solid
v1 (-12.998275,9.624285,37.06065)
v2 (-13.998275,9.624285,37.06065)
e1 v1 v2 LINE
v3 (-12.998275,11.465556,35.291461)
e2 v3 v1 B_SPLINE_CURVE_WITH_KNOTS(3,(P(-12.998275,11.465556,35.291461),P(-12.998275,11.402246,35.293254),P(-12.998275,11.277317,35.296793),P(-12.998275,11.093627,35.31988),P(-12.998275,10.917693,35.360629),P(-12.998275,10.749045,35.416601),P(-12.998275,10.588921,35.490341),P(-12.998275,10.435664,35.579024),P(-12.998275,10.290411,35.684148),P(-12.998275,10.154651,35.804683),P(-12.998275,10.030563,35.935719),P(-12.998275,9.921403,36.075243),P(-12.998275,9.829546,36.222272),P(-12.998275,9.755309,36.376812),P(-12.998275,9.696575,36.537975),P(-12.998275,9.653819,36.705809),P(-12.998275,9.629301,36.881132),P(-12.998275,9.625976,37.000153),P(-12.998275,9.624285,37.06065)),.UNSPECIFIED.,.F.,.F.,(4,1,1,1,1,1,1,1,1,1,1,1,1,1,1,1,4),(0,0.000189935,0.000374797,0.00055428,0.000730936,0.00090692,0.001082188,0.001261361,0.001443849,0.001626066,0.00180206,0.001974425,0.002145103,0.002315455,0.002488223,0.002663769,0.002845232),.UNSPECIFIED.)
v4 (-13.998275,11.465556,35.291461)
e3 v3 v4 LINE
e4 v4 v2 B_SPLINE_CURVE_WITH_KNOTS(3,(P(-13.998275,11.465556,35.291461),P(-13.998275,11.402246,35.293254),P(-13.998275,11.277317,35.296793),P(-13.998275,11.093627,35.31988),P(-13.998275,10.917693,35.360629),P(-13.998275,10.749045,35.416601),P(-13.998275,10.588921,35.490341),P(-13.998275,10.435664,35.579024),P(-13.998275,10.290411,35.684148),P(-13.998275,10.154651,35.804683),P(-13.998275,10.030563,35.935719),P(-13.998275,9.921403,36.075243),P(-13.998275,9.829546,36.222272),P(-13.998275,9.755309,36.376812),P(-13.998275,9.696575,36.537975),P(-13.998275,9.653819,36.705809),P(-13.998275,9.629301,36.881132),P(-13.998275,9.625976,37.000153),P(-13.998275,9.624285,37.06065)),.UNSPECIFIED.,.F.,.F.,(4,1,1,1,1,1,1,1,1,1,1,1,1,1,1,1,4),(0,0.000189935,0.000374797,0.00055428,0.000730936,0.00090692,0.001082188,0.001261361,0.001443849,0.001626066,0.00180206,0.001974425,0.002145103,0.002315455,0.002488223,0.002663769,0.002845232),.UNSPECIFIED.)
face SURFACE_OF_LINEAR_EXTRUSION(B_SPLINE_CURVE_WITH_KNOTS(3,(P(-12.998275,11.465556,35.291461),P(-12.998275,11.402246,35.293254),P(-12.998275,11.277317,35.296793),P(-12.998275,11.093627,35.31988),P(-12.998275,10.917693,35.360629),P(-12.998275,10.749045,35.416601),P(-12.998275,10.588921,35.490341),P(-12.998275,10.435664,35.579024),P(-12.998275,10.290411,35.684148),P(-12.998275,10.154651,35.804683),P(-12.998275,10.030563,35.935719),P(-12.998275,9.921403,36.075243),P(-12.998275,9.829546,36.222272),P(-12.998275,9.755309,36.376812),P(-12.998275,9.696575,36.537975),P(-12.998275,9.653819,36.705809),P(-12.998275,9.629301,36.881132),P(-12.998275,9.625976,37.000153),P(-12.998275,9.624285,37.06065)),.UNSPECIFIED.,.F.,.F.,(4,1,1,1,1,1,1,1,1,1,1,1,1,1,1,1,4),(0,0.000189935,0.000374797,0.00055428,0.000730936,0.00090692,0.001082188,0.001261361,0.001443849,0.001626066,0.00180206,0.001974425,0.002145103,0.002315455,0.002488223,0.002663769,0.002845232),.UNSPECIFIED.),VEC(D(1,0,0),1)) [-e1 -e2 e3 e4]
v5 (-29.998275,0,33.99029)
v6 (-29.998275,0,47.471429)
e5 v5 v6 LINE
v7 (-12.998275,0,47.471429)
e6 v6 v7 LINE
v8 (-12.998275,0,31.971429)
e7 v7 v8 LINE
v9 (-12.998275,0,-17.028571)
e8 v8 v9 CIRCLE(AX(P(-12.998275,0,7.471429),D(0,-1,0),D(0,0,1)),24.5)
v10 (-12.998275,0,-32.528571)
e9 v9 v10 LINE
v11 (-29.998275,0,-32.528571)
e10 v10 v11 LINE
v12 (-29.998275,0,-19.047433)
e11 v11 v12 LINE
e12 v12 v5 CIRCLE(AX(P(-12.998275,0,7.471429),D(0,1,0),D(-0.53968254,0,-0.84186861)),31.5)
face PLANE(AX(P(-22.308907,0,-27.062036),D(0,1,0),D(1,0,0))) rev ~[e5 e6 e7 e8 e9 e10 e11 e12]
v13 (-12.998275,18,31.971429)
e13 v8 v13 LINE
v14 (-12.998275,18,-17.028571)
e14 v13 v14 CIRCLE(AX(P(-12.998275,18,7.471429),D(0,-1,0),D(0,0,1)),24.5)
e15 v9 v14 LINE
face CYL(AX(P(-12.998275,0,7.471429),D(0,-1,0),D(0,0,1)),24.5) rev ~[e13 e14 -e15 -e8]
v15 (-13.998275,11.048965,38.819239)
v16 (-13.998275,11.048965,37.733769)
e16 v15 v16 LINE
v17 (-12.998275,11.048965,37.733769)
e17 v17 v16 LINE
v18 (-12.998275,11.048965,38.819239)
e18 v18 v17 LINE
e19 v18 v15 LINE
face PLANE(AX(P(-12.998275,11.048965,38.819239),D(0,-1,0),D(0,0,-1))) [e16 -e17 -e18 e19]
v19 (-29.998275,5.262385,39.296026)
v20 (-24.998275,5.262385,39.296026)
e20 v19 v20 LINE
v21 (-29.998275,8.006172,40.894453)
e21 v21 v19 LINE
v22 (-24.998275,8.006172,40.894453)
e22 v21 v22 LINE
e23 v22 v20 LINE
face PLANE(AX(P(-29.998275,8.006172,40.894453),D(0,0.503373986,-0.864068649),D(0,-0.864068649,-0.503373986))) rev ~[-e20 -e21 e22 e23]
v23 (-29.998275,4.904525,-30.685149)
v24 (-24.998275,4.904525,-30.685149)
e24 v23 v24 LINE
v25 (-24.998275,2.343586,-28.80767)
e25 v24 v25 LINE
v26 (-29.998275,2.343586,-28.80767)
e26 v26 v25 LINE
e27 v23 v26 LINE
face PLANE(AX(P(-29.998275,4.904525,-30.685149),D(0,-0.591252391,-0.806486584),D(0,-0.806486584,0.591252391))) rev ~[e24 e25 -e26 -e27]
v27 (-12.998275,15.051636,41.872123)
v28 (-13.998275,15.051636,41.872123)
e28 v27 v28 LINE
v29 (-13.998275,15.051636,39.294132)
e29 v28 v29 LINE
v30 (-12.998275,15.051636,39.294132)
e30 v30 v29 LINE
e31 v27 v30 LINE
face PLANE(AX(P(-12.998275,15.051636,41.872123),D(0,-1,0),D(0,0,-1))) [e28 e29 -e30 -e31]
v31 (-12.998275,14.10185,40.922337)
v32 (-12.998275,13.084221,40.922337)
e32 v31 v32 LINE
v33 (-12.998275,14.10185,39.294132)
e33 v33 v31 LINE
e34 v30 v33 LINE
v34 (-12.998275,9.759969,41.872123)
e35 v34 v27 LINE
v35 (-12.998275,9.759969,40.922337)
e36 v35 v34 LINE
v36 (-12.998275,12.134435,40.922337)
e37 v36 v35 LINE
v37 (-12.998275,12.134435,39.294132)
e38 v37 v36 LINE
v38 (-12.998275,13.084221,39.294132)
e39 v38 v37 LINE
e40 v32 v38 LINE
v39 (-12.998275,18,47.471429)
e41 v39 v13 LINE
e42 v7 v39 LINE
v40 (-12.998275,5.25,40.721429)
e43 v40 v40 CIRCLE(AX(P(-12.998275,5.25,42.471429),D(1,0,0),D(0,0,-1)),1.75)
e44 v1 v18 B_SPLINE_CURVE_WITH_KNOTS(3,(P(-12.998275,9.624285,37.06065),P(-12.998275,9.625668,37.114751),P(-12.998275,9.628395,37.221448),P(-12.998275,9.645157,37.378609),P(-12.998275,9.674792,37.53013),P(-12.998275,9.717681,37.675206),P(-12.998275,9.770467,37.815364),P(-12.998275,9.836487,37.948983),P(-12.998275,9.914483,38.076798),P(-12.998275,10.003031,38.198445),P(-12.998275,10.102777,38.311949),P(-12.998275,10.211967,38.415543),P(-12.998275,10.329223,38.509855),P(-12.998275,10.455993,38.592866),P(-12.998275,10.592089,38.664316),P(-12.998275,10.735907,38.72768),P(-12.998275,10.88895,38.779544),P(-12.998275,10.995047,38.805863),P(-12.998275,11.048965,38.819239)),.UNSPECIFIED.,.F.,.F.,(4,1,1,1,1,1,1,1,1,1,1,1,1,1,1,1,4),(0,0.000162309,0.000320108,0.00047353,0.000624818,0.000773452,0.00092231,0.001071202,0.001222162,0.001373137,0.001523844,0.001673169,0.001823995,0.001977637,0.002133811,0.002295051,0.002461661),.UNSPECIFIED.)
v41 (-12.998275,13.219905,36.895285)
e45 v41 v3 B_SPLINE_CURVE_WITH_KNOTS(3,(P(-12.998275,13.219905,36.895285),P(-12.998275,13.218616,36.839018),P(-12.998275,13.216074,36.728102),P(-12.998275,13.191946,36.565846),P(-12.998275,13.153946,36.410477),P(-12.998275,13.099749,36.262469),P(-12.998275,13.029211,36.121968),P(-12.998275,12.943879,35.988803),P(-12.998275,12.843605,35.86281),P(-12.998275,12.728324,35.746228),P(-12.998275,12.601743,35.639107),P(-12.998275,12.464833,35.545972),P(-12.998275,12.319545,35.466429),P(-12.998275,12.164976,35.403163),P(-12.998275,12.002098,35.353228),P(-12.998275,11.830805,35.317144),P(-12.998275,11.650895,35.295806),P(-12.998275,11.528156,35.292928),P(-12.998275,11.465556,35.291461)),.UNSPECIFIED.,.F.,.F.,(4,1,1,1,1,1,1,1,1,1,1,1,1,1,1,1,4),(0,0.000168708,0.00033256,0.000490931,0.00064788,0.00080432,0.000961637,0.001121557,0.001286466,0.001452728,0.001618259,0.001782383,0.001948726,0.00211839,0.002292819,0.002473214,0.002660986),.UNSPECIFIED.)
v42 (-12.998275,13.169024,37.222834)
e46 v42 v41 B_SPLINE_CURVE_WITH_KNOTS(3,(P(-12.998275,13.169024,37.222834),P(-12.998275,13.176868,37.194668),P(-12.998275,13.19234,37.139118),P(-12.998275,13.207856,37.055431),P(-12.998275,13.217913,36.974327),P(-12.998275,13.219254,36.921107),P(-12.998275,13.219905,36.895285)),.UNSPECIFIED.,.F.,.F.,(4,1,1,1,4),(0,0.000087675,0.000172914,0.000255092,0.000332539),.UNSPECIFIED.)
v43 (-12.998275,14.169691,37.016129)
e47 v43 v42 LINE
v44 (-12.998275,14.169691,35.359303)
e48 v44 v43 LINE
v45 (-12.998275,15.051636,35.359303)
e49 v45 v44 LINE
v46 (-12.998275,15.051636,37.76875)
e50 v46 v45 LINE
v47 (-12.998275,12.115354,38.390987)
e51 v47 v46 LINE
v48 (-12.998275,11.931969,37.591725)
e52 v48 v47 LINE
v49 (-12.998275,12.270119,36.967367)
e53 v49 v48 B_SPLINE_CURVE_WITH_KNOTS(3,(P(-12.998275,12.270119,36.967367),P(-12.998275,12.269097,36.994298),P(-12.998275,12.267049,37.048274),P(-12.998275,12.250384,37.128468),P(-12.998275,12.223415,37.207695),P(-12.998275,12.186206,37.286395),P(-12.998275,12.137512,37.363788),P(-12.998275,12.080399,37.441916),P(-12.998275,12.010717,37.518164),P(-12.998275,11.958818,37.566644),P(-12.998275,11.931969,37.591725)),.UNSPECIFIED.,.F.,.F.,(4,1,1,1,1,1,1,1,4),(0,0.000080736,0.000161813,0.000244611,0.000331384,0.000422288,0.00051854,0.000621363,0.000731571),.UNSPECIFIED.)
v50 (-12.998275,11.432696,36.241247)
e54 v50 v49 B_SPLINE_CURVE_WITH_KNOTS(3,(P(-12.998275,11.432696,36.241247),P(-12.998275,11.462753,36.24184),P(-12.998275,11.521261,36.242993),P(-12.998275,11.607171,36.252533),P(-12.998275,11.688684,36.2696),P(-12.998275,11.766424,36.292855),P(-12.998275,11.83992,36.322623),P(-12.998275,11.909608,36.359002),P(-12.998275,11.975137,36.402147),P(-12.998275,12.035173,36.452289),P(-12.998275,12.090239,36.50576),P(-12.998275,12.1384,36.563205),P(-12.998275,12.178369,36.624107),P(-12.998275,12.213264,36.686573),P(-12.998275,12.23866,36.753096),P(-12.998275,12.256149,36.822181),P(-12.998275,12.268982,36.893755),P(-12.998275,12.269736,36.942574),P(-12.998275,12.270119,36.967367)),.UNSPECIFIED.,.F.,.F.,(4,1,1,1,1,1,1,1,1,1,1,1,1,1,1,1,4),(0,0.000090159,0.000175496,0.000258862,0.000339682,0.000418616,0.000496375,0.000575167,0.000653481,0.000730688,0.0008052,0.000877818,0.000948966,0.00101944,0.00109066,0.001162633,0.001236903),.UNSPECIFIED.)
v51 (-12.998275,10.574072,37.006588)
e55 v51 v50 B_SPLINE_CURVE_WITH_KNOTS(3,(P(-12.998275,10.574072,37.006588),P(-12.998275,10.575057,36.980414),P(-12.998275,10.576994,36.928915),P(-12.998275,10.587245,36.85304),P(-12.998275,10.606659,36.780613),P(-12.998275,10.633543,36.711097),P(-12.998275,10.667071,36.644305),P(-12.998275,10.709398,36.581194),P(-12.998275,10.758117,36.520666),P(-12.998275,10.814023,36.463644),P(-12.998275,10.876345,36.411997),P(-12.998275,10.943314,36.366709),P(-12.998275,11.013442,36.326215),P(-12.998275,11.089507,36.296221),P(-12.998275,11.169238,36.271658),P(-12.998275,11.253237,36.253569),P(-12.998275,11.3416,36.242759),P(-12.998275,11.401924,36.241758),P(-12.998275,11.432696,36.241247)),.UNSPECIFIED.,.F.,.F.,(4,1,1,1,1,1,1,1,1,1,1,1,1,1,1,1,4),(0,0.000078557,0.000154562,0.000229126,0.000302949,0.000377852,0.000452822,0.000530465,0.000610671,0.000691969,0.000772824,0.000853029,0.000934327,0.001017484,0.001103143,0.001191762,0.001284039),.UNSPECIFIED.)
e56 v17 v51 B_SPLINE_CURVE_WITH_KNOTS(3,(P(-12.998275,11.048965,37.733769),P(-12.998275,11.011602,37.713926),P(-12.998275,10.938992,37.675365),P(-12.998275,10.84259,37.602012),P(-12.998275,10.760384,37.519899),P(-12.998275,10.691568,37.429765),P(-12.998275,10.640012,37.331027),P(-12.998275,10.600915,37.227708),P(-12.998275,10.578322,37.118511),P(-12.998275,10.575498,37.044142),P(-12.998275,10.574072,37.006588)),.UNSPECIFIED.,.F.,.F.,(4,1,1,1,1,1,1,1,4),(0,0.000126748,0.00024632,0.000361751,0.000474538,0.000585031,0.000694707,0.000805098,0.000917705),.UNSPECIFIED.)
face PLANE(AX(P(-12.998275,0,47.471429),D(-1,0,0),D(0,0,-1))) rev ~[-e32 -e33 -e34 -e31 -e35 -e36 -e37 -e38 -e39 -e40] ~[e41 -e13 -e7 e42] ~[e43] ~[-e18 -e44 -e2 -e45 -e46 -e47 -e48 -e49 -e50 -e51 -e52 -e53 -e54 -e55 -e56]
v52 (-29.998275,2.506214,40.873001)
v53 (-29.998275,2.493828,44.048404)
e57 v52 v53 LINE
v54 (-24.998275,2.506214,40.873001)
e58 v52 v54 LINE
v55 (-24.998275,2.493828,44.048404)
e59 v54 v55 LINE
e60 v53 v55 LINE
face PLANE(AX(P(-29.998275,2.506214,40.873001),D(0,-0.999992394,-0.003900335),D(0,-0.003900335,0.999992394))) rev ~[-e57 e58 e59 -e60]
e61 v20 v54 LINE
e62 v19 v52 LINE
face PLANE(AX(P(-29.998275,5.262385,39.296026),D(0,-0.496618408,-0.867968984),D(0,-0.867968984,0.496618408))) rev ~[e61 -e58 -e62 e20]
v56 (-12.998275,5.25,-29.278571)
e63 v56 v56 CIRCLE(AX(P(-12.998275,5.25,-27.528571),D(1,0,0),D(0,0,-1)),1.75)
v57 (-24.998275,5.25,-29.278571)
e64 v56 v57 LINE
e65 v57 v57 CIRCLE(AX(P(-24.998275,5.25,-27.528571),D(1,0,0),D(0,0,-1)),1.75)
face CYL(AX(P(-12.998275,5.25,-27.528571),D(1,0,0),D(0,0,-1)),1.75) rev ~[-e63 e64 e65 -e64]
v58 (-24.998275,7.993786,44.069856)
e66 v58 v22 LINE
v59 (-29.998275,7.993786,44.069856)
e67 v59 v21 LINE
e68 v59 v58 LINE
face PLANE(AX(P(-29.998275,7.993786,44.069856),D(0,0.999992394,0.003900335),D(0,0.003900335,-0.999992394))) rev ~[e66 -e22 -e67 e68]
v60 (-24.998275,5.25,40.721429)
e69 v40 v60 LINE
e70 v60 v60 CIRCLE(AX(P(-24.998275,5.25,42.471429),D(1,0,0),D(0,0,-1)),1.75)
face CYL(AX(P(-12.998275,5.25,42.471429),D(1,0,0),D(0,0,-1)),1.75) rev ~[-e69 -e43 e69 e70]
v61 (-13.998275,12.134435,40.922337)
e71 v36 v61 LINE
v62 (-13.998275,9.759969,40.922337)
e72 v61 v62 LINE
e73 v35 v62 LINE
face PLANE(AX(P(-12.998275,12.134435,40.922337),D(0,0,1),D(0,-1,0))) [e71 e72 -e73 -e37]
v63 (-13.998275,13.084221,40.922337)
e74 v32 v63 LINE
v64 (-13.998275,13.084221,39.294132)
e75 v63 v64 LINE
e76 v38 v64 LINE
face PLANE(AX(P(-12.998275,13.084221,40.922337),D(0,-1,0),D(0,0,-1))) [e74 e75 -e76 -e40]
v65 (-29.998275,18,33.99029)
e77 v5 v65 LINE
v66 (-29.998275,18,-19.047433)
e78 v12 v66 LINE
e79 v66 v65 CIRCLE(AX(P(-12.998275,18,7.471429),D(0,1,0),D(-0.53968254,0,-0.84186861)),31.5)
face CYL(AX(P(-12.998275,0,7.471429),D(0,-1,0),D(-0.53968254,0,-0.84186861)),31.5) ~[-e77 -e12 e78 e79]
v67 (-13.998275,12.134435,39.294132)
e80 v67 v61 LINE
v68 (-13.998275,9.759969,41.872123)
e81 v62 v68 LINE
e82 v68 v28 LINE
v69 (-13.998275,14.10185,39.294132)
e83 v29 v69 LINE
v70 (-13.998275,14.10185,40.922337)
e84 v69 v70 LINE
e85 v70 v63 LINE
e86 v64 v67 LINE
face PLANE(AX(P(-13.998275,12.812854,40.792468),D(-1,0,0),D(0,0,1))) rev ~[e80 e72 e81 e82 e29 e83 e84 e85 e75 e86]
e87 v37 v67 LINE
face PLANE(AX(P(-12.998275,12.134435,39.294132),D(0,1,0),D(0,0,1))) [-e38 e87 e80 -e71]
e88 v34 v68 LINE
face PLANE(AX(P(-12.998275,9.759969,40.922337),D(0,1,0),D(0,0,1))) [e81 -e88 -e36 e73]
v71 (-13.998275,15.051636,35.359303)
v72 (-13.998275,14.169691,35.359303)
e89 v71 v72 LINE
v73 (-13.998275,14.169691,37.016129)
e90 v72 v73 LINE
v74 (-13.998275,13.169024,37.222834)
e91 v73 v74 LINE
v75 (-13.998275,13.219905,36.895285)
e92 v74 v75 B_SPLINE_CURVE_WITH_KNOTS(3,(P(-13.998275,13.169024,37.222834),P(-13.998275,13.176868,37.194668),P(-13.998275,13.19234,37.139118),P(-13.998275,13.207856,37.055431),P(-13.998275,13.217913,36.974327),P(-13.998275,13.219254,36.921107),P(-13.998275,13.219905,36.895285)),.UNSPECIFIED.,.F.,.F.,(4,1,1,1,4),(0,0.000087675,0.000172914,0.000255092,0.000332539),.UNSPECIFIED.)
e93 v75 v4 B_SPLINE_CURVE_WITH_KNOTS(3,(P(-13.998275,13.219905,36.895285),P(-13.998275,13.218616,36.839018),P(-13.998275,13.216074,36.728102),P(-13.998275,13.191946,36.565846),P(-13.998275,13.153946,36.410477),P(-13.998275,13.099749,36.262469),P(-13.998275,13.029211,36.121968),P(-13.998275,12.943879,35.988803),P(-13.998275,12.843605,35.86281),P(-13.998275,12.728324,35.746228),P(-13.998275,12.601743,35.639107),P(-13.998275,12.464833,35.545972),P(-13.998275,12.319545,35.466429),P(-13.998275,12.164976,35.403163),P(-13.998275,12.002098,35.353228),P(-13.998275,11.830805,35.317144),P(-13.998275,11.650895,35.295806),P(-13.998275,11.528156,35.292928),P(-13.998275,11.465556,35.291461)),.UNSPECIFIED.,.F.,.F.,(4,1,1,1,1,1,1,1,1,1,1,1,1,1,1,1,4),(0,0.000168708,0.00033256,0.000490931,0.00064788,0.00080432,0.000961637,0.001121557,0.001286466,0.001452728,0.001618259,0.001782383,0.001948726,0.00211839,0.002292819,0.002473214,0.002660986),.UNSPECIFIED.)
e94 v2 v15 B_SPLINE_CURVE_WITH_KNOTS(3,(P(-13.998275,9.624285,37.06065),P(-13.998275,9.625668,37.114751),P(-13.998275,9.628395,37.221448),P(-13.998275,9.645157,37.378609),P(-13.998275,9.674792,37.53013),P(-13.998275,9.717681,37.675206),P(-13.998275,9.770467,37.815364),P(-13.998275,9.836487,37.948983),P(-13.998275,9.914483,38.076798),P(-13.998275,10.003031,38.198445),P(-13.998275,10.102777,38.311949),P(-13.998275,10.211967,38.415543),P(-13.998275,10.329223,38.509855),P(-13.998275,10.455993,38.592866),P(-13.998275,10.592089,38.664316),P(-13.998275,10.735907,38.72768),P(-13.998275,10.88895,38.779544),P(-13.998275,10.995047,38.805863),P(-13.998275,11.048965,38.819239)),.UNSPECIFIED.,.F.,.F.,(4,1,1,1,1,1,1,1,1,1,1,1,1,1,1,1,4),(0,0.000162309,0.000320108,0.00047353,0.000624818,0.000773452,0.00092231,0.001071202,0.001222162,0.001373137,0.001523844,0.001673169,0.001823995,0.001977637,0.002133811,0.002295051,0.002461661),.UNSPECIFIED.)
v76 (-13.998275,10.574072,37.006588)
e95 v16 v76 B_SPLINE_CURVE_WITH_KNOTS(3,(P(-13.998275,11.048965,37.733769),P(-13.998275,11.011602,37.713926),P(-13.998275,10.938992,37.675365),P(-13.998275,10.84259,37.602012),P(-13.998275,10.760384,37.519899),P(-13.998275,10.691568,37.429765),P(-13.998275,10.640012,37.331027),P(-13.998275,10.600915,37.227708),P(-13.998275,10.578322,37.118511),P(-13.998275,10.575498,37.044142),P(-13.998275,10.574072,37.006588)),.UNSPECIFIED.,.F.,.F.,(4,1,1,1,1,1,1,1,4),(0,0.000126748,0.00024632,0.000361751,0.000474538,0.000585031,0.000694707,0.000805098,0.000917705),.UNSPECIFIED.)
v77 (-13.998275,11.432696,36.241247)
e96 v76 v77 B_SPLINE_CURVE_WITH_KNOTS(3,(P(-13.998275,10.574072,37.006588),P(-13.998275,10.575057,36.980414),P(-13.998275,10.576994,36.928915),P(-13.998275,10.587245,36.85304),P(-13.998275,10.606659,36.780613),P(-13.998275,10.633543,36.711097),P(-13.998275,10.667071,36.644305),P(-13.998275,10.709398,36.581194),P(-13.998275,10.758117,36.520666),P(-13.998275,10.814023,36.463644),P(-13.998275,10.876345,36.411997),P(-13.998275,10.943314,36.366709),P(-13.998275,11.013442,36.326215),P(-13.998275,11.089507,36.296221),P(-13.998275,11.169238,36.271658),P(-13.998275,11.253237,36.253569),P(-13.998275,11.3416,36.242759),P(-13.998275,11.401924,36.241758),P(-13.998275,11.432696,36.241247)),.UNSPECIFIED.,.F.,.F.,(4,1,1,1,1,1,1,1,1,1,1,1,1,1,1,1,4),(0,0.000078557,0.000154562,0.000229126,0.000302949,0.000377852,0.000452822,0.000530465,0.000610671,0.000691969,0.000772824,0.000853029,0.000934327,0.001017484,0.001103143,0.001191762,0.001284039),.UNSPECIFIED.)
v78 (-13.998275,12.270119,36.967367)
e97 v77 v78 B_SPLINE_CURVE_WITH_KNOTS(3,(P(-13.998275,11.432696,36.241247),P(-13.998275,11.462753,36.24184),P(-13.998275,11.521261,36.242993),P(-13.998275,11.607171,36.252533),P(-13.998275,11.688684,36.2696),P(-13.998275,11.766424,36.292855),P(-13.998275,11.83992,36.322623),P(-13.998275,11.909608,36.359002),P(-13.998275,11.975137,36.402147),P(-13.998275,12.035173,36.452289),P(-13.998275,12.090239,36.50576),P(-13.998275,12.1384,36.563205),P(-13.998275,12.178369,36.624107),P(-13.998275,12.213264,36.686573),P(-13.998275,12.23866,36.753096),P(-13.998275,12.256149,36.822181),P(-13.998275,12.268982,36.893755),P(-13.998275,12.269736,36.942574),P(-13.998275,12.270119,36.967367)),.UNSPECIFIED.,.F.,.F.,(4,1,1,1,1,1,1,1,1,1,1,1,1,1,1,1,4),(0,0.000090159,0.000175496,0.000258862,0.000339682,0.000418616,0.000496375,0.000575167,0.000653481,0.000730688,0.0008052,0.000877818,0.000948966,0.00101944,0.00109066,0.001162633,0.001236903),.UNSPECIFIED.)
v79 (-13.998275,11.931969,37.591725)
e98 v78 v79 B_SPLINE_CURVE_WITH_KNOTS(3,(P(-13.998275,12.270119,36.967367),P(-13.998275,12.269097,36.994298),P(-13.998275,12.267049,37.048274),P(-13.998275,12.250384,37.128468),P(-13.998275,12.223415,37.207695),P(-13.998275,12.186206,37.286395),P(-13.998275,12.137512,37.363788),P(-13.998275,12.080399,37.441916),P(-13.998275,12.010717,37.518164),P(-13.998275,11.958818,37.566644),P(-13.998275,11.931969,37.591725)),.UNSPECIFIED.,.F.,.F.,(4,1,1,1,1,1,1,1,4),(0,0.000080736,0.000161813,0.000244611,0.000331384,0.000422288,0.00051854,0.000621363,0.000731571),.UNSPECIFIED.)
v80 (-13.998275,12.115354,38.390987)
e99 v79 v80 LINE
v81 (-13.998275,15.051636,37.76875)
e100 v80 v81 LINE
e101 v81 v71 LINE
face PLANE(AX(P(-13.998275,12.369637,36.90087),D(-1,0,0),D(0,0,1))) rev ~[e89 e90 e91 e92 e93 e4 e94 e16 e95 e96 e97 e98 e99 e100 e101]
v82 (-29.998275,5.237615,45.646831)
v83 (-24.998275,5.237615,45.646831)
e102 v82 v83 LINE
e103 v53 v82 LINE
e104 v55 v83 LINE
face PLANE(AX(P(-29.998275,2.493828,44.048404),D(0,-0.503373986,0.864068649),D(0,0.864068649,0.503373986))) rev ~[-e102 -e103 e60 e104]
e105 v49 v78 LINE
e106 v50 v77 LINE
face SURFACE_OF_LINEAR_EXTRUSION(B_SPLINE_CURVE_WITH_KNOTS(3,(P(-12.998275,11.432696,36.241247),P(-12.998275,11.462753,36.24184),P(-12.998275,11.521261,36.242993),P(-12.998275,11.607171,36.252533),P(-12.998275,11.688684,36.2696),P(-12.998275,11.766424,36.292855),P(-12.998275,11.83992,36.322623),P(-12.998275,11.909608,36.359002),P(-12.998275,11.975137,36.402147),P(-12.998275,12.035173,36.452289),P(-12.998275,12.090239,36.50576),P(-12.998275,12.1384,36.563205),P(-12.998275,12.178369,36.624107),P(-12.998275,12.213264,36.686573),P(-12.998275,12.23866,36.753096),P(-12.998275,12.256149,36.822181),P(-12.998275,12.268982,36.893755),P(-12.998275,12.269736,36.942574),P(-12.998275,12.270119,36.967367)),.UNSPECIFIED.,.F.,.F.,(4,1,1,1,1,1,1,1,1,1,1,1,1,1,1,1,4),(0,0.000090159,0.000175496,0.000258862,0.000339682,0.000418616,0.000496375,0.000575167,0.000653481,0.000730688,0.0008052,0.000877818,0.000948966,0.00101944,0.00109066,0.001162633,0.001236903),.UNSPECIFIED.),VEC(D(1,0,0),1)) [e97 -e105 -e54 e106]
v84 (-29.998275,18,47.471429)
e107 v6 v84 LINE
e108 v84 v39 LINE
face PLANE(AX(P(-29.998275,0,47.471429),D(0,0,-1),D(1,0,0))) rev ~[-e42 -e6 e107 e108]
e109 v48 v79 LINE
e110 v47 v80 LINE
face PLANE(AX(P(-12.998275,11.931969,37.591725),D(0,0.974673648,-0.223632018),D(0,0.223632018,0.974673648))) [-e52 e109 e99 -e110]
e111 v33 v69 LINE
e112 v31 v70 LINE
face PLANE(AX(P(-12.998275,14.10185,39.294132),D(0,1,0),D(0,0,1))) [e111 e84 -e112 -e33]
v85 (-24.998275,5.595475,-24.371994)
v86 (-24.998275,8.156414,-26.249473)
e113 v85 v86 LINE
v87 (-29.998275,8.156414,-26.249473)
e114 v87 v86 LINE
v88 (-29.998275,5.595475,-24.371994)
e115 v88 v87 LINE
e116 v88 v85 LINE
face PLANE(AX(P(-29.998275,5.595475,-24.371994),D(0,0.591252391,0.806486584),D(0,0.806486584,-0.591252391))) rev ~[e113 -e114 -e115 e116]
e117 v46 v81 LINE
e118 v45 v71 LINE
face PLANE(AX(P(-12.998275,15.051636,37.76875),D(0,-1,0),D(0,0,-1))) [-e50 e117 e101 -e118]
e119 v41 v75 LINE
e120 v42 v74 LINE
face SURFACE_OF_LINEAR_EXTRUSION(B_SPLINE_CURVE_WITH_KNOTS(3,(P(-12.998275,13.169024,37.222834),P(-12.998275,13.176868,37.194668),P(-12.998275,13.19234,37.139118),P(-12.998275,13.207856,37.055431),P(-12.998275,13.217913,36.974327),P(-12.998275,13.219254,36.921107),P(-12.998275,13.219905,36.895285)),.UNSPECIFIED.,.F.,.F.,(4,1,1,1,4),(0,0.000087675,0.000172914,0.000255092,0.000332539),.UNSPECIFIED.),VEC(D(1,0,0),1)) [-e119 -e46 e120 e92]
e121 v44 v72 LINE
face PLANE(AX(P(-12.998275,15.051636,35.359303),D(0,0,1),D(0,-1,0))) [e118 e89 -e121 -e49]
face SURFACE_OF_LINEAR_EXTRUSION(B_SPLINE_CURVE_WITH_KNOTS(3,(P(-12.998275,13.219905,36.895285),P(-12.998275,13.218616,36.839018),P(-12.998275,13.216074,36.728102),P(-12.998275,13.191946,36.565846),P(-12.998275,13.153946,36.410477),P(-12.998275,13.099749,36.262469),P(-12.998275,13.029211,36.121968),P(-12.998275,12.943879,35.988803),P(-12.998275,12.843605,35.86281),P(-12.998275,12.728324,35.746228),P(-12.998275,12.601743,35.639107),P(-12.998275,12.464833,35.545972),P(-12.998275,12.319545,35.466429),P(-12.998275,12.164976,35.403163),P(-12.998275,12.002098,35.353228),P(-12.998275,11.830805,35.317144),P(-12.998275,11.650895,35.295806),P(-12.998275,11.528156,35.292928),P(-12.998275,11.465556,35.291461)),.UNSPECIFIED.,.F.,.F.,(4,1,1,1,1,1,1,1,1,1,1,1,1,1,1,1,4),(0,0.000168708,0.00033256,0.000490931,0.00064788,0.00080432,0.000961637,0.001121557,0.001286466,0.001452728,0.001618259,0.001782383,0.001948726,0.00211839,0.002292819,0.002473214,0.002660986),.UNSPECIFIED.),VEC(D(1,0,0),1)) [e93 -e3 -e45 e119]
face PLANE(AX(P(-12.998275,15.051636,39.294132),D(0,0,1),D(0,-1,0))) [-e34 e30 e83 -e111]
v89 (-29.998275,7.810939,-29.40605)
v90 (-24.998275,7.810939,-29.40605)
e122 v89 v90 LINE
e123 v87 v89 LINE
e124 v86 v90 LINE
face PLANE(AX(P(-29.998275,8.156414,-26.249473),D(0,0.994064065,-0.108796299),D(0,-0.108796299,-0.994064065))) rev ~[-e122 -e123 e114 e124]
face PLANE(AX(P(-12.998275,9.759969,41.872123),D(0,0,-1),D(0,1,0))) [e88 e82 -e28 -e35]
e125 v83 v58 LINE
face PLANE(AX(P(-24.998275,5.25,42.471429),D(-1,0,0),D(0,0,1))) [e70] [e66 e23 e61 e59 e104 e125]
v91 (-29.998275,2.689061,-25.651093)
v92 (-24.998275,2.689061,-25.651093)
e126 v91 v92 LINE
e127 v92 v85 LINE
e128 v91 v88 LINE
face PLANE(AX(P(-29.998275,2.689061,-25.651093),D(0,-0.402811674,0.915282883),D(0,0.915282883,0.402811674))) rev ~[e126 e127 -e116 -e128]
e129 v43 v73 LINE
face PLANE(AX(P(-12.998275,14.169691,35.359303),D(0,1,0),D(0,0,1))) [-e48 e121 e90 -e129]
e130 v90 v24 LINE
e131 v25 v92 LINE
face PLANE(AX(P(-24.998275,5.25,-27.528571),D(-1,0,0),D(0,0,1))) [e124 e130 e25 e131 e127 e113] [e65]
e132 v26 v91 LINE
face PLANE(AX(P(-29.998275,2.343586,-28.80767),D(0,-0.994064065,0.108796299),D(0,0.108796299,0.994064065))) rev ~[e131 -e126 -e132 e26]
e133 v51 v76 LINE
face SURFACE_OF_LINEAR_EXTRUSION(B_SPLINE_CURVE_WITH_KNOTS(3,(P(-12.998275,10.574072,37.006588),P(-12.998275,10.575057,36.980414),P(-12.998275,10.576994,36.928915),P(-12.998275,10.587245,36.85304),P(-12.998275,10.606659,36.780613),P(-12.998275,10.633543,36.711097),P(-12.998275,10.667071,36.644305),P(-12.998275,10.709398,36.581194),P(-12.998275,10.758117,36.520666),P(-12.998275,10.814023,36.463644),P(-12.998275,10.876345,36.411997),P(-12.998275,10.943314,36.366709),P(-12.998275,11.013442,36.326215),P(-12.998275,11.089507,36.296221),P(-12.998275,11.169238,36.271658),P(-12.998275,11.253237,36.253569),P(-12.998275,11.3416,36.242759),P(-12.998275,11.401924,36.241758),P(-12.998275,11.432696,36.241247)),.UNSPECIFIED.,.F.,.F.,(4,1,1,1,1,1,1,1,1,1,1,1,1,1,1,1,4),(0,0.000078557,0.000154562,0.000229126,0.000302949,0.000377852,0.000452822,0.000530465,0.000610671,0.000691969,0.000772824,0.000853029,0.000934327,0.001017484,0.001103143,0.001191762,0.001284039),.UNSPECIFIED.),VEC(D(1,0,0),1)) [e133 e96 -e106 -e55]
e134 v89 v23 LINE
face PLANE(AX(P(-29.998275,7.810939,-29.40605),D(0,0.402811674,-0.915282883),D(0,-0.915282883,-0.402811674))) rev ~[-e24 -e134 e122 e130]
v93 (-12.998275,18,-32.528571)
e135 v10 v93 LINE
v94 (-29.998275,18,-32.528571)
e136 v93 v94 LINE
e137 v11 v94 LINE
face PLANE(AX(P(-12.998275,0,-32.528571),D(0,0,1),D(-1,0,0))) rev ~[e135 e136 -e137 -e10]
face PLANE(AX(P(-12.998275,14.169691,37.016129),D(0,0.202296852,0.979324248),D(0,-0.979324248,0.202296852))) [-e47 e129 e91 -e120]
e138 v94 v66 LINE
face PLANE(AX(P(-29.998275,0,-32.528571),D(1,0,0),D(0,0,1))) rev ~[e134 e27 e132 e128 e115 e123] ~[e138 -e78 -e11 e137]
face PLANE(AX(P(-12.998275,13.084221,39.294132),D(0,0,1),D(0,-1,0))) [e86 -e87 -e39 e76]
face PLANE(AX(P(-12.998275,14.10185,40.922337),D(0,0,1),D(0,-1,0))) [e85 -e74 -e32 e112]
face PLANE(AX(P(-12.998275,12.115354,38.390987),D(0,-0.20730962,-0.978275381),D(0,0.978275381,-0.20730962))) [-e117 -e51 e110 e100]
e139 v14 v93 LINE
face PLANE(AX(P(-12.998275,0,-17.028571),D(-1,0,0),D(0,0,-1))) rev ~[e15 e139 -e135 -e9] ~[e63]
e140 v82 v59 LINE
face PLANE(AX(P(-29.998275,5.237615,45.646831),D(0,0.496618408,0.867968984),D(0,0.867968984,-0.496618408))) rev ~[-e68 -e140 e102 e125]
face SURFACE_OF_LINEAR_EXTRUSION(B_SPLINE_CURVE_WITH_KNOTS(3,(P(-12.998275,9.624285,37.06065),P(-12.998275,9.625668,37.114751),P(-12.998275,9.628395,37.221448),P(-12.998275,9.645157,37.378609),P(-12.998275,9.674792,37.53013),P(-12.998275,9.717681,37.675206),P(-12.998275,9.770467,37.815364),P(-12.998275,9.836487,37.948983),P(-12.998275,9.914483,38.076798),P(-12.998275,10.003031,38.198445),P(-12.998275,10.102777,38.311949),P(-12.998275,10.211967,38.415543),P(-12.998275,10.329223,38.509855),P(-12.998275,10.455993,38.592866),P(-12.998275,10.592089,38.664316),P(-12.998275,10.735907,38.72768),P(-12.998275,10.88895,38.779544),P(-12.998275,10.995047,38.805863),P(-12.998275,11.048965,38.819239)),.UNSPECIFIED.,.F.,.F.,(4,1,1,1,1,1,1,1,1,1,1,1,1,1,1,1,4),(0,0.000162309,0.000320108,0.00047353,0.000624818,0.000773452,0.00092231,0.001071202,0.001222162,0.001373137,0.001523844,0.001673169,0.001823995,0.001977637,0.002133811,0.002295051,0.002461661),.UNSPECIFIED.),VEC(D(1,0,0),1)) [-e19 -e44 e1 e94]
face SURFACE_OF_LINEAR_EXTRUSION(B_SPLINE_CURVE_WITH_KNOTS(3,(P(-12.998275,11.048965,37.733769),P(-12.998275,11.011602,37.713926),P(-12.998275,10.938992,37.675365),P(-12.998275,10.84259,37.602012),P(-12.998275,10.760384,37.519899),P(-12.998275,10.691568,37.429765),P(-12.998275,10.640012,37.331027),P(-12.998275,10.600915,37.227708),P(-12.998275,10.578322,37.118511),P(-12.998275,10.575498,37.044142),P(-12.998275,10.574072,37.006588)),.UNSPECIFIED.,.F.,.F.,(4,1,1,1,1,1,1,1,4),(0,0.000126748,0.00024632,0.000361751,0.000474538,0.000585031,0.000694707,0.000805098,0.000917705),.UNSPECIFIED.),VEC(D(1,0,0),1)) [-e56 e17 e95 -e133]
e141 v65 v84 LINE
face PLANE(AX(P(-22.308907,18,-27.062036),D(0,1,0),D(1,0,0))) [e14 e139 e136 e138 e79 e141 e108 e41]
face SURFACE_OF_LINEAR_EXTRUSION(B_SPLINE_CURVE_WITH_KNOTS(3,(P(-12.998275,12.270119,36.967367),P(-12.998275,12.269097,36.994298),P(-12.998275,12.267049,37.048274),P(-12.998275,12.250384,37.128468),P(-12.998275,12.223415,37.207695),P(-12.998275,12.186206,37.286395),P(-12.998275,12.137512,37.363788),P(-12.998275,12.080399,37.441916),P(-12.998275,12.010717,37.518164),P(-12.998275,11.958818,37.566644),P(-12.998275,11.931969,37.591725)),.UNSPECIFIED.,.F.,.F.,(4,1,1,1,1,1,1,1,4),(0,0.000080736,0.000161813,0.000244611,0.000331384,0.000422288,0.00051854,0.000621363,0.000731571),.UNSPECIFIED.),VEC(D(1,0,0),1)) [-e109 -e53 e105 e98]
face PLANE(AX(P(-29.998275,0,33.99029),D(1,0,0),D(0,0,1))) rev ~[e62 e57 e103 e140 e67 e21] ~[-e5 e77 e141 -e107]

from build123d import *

# Parameters (mm, degrees)
BOSS_EXTRUDE1_DEPTH = 18
SKETCH2_R           = 1.75
CUT_EXTRUDE1_DEPTH  = 32.5
CUT_EXTRUDE2_DEPTH  = 1
CUT_EXTRUDE3_DEPTH  = 5


with BuildPart() as part:
    # Sketch1 → Boss-Extrude1 (new body)
    with BuildSketch(Plane(origin=(0, 0, 0), x_dir=(1, 0, 0), z_dir=(0, 1, 0))):
        with BuildLine():
            Line((-12.998275301, 32.528571429), (-29.998275301, 32.528571429))
            Line((-29.998275301, 32.528571429), (-29.998275301, 19.047432641))
            ThreePointArc((-29.998275301, 19.047432641), (-21.855641496, 22.757647896), (-12.998275301, 24.028571429))
            Line((-12.998275301, 24.028571429), (-12.998275301, 32.528571429))
        make_face()
        with BuildLine():
            ThreePointArc((-12.998275301, 24.028571429), (-21.855641496, 22.757647896), (-29.998275301, 19.047432641))
            ThreePointArc((-29.998275301, 19.047432641), (-44.498275301, -7.471428571), (-29.998275301, -33.990289784))
            ThreePointArc((-29.998275301, -33.990289784), (-21.855641496, -37.700505039), (-12.998275301, -38.971428571))
            Line((-12.998275301, -38.971428571), (-12.998275301, -31.971428571))
            ThreePointArc((-12.998275301, -31.971428571), (-37.498275301, -7.471428571), (-12.998275301, 17.028571429))
            Line((-12.998275301, 17.028571429), (-12.998275301, 24.028571429))
        make_face()
        with BuildLine():
            Line((-29.998275301, -33.990289784), (-29.998275301, -47.471428571))
            Line((-29.998275301, -47.471428571), (-12.998275301, -47.471428571))
            Line((-12.998275301, -47.471428571), (-12.998275301, -38.971428571))
            ThreePointArc((-12.998275301, -38.971428571), (-21.855641496, -37.700505039), (-29.998275301, -33.990289784))
        make_face()
    extrude(amount=BOSS_EXTRUDE1_DEPTH)

    # Sketch2 → Cut-Extrude1 (cut, through all)
    with BuildSketch(Plane(origin=(-12.998275301, 0, 0), x_dir=(0, 0, -1), z_dir=(1, 0, 0))):
        with Locations((-42.471428571, 5.25)):
            Circle(SKETCH2_R)
        with Locations((27.528571429, 5.25)):
            Circle(SKETCH2_R)
    extrude(amount=-CUT_EXTRUDE1_DEPTH, mode=Mode.SUBTRACT)

    # Sketch3 → Cut-Extrude2 (cut)
    with BuildSketch(Plane(origin=(-12.998275301, 0, 0), x_dir=(0, 0, -1), z_dir=(1, 0, 0))):
        Polygon((-41.872123333, 15.051635835), (-39.29413188, 15.051635835), (-39.29413188, 14.10184951), (-40.922337009, 14.10184951), (-40.922337009, 13.084221305), (-39.29413188, 13.084221305), (-39.29413188, 12.13443498), (-40.922337009, 12.13443498), (-40.922337009, 9.759969168), (-41.872123333, 9.759969168), align=None)
        with BuildLine():
            Line((-37.768749602, 15.051635835), (-35.359302821, 15.051635835))
            Line((-35.359302821, 15.051635835), (-35.359302821, 14.16969139))
            Line((-35.359302821, 14.16969139), (-37.016128742, 14.16969139))
            Line((-37.016128742, 14.16969139), (-37.222834471, 13.169023655))
            add(Edge.make_bspline(
                [(-37.222834471, 13.169023655), (-37.194667857, 13.176868413), (-37.139117506, 13.192339887), (-37.055430833, 13.207855818), (-36.974326785, 13.217912751), (-36.921106803, 13.219254212), (-36.895285393, 13.219905065)],
                knots=[0, 0, 0, 0, 8.7675e-05, 0.000172914, 0.000255092, 0.000332539, 0.000332539, 0.000332539, 0.000332539], degree=3))
            add(Edge.make_bspline(
                [(-36.895285393, 13.219905065), (-36.839017834, 13.218615727), (-36.728102081, 13.216074157), (-36.56584641, 13.191946365), (-36.410477019, 13.153945825), (-36.262469357, 13.099749215), (-36.121968006, 13.029210927), (-35.988802653, 12.943879371), (-35.862809858, 12.843604675), (-35.746227784, 12.728324059), (-35.639107304, 12.601743331), (-35.545972157, 12.464832881), (-35.466428929, 12.319544917), (-35.403162996, 12.164976334), (-35.353228128, 12.002097925), (-35.317144077, 11.830805314), (-35.295805775, 11.650895492), (-35.292928436, 11.528155884), (-35.29146094, 11.465556441)],
                knots=[0, 0, 0, 0, 0.000168708, 0.00033256, 0.000490931, 0.00064788, 0.00080432, 0.000961637, 0.001121557, 0.001286466, 0.001452728, 0.001618259, 0.001782383, 0.001948726, 0.00211839, 0.002292819, 0.002473214, 0.002660986, 0.002660986, 0.002660986, 0.002660986], degree=3))
            add(Edge.make_bspline(
                [(-35.29146094, 11.465556441), (-35.293254243, 11.402246349), (-35.296792955, 11.277317032), (-35.319879804, 11.093626745), (-35.360628507, 10.917692919), (-35.416600928, 10.749044582), (-35.490341009, 10.588921261), (-35.579023549, 10.435664197), (-35.684147931, 10.290410967), (-35.804682523, 10.154650595), (-35.935719436, 10.030563008), (-36.075242816, 9.921402921), (-36.22227247, 9.829545591), (-36.376811944, 9.75530934), (-36.537974597, 9.696574939), (-36.705809344, 9.653819098), (-36.881131839, 9.629301), (-37.000153034, 9.625975643), (-37.060649976, 9.624285407)],
                knots=[0, 0, 0, 0, 0.000189935, 0.000374797, 0.00055428, 0.000730936, 0.00090692, 0.001082188, 0.001261361, 0.001443849, 0.001626066, 0.00180206, 0.001974425, 0.002145103, 0.002315455, 0.002488223, 0.002663769, 0.002845232, 0.002845232, 0.002845232, 0.002845232], degree=3))
            add(Edge.make_bspline(
                [(-37.060649976, 9.624285407), (-37.11475059, 9.625668125), (-37.221448324, 9.628395135), (-37.378609401, 9.645156773), (-37.530130131, 9.674791505), (-37.675206106, 9.717680636), (-37.815363767, 9.770467365), (-37.94898285, 9.836487145), (-38.076797617, 9.914482872), (-38.198445122, 10.00303112), (-38.311948765, 10.102777287), (-38.415542863, 10.211966653), (-38.509854588, 10.329222939), (-38.592865818, 10.455992731), (-38.664316336, 10.592088734), (-38.727680113, 10.735907025), (-38.779543999, 10.888949526), (-38.805863427, 10.99504709), (-38.819238718, 11.048964895)],
                knots=[0, 0, 0, 0, 0.000162309, 0.000320108, 0.00047353, 0.000624818, 0.000773452, 0.00092231, 0.001071202, 0.001222162, 0.001373137, 0.001523844, 0.001673169, 0.001823995, 0.001977637, 0.002133811, 0.002295051, 0.002461661, 0.002461661, 0.002461661, 0.002461661], degree=3))
            Line((-38.819238718, 11.048964895), (-37.733768633, 11.048964895))
            add(Edge.make_bspline(
                [(-37.733768633, 11.048964895), (-37.713926213, 11.011602052), (-37.675364736, 10.938991631), (-37.60201228, 10.842590387), (-37.519898863, 10.760383548), (-37.429765192, 10.691567935), (-37.331027257, 10.640012448), (-37.227708443, 10.600915152), (-37.118510798, 10.578322273), (-37.044142381, 10.575497939), (-37.006588478, 10.574071732)],
                knots=[0, 0, 0, 0, 0.000126748, 0.00024632, 0.000361751, 0.000474538, 0.000585031, 0.000694707, 0.000805098, 0.000917705, 0.000917705, 0.000917705, 0.000917705], degree=3))
            add(Edge.make_bspline(
                [(-37.006588478, 10.574071732), (-36.980413911, 10.575056541), (-36.92891501, 10.576994168), (-36.853039524, 10.587244701), (-36.780613038, 10.60665898), (-36.71109708, 10.633543242), (-36.644304912, 10.667070955), (-36.581194023, 10.709397506), (-36.520666397, 10.758116937), (-36.46364351, 10.814022648), (-36.411997211, 10.876344513), (-36.366709056, 10.943313604), (-36.3262152, 11.013441856), (-36.296220781, 11.089507223), (-36.271657889, 11.169238367), (-36.253568781, 11.253236725), (-36.2427585, 11.341600399), (-36.241757757, 11.401923802), (-36.241247265, 11.43269553)],
                knots=[0, 0, 0, 0, 7.8557e-05, 0.000154562, 0.000229126, 0.000302949, 0.000377852, 0.000452822, 0.000530465, 0.000610671, 0.000691969, 0.000772824, 0.000853029, 0.000934327, 0.001017484, 0.001103143, 0.001191762, 0.001284039, 0.001284039, 0.001284039, 0.001284039], degree=3))
            add(Edge.make_bspline(
                [(-36.241247265, 11.43269553), (-36.24183975, 11.462752977), (-36.242993035, 11.521260526), (-36.252533243, 11.607170565), (-36.269600491, 11.688683645), (-36.292854763, 11.766424094), (-36.322623008, 11.839919836), (-36.359001793, 11.909608351), (-36.402146532, 11.975137391), (-36.452288859, 12.035172848), (-36.505760122, 12.090239076), (-36.56320544, 12.138399561), (-36.624107261, 12.178369419), (-36.686573137, 12.213264269), (-36.753096479, 12.238659979), (-36.822181447, 12.256149068), (-36.893755387, 12.268981858), (-36.942574418, 12.269735832), (-36.967367391, 12.270118741)],
                knots=[0, 0, 0, 0, 9.0159e-05, 0.000175496, 0.000258862, 0.000339682, 0.000418616, 0.000496375, 0.000575167, 0.000653481, 0.000730688, 0.0008052, 0.000877818, 0.000948966, 0.00101944, 0.00109066, 0.001162633, 0.001236903, 0.001236903, 0.001236903, 0.001236903], degree=3))
            add(Edge.make_bspline(
                [(-36.967367391, 12.270118741), (-36.994298321, 12.269096861), (-37.048273682, 12.267048796), (-37.12846756, 12.250384238), (-37.207694523, 12.22341473), (-37.286395154, 12.186206021), (-37.363788212, 12.13751156), (-37.44191614, 12.080398541), (-37.518163827, 12.010717161), (-37.566644228, 11.95881831), (-37.591724696, 11.931969368)],
                knots=[0, 0, 0, 0, 8.0736e-05, 0.000161813, 0.000244611, 0.000331384, 0.000422288, 0.00051854, 0.000621363, 0.000731571, 0.000731571, 0.000731571, 0.000731571], degree=3))
            Line((-37.591724696, 11.931969368), (-38.390986848, 12.115354451))
            Line((-38.390986848, 12.115354451), (-37.768749602, 15.051635835))
        make_face()
    extrude(amount=-CUT_EXTRUDE2_DEPTH, mode=Mode.SUBTRACT)

    # Sketch4 → Cut-Extrude3 (cut)
    with BuildSketch(Plane.ZY.offset(29.998275301)):
        Polygon((-25.65109293, 2.689061145), (-24.371994073, 5.595474648), (-26.249472572, 8.156413503), (-29.406049928, 7.810938855), (-30.685148784, 4.904525352), (-28.807670285, 2.343586497), align=None)
        Polygon((44.048403814, 2.493828304), (45.646830899, 5.237614774), (44.069855656, 7.993786469), (40.894453329, 8.006171696), (39.296026244, 5.262385226), (40.873001487, 2.506213531), align=None)
    extrude(amount=-CUT_EXTRUDE3_DEPTH, mode=Mode.SUBTRACT)


solid = part.part
